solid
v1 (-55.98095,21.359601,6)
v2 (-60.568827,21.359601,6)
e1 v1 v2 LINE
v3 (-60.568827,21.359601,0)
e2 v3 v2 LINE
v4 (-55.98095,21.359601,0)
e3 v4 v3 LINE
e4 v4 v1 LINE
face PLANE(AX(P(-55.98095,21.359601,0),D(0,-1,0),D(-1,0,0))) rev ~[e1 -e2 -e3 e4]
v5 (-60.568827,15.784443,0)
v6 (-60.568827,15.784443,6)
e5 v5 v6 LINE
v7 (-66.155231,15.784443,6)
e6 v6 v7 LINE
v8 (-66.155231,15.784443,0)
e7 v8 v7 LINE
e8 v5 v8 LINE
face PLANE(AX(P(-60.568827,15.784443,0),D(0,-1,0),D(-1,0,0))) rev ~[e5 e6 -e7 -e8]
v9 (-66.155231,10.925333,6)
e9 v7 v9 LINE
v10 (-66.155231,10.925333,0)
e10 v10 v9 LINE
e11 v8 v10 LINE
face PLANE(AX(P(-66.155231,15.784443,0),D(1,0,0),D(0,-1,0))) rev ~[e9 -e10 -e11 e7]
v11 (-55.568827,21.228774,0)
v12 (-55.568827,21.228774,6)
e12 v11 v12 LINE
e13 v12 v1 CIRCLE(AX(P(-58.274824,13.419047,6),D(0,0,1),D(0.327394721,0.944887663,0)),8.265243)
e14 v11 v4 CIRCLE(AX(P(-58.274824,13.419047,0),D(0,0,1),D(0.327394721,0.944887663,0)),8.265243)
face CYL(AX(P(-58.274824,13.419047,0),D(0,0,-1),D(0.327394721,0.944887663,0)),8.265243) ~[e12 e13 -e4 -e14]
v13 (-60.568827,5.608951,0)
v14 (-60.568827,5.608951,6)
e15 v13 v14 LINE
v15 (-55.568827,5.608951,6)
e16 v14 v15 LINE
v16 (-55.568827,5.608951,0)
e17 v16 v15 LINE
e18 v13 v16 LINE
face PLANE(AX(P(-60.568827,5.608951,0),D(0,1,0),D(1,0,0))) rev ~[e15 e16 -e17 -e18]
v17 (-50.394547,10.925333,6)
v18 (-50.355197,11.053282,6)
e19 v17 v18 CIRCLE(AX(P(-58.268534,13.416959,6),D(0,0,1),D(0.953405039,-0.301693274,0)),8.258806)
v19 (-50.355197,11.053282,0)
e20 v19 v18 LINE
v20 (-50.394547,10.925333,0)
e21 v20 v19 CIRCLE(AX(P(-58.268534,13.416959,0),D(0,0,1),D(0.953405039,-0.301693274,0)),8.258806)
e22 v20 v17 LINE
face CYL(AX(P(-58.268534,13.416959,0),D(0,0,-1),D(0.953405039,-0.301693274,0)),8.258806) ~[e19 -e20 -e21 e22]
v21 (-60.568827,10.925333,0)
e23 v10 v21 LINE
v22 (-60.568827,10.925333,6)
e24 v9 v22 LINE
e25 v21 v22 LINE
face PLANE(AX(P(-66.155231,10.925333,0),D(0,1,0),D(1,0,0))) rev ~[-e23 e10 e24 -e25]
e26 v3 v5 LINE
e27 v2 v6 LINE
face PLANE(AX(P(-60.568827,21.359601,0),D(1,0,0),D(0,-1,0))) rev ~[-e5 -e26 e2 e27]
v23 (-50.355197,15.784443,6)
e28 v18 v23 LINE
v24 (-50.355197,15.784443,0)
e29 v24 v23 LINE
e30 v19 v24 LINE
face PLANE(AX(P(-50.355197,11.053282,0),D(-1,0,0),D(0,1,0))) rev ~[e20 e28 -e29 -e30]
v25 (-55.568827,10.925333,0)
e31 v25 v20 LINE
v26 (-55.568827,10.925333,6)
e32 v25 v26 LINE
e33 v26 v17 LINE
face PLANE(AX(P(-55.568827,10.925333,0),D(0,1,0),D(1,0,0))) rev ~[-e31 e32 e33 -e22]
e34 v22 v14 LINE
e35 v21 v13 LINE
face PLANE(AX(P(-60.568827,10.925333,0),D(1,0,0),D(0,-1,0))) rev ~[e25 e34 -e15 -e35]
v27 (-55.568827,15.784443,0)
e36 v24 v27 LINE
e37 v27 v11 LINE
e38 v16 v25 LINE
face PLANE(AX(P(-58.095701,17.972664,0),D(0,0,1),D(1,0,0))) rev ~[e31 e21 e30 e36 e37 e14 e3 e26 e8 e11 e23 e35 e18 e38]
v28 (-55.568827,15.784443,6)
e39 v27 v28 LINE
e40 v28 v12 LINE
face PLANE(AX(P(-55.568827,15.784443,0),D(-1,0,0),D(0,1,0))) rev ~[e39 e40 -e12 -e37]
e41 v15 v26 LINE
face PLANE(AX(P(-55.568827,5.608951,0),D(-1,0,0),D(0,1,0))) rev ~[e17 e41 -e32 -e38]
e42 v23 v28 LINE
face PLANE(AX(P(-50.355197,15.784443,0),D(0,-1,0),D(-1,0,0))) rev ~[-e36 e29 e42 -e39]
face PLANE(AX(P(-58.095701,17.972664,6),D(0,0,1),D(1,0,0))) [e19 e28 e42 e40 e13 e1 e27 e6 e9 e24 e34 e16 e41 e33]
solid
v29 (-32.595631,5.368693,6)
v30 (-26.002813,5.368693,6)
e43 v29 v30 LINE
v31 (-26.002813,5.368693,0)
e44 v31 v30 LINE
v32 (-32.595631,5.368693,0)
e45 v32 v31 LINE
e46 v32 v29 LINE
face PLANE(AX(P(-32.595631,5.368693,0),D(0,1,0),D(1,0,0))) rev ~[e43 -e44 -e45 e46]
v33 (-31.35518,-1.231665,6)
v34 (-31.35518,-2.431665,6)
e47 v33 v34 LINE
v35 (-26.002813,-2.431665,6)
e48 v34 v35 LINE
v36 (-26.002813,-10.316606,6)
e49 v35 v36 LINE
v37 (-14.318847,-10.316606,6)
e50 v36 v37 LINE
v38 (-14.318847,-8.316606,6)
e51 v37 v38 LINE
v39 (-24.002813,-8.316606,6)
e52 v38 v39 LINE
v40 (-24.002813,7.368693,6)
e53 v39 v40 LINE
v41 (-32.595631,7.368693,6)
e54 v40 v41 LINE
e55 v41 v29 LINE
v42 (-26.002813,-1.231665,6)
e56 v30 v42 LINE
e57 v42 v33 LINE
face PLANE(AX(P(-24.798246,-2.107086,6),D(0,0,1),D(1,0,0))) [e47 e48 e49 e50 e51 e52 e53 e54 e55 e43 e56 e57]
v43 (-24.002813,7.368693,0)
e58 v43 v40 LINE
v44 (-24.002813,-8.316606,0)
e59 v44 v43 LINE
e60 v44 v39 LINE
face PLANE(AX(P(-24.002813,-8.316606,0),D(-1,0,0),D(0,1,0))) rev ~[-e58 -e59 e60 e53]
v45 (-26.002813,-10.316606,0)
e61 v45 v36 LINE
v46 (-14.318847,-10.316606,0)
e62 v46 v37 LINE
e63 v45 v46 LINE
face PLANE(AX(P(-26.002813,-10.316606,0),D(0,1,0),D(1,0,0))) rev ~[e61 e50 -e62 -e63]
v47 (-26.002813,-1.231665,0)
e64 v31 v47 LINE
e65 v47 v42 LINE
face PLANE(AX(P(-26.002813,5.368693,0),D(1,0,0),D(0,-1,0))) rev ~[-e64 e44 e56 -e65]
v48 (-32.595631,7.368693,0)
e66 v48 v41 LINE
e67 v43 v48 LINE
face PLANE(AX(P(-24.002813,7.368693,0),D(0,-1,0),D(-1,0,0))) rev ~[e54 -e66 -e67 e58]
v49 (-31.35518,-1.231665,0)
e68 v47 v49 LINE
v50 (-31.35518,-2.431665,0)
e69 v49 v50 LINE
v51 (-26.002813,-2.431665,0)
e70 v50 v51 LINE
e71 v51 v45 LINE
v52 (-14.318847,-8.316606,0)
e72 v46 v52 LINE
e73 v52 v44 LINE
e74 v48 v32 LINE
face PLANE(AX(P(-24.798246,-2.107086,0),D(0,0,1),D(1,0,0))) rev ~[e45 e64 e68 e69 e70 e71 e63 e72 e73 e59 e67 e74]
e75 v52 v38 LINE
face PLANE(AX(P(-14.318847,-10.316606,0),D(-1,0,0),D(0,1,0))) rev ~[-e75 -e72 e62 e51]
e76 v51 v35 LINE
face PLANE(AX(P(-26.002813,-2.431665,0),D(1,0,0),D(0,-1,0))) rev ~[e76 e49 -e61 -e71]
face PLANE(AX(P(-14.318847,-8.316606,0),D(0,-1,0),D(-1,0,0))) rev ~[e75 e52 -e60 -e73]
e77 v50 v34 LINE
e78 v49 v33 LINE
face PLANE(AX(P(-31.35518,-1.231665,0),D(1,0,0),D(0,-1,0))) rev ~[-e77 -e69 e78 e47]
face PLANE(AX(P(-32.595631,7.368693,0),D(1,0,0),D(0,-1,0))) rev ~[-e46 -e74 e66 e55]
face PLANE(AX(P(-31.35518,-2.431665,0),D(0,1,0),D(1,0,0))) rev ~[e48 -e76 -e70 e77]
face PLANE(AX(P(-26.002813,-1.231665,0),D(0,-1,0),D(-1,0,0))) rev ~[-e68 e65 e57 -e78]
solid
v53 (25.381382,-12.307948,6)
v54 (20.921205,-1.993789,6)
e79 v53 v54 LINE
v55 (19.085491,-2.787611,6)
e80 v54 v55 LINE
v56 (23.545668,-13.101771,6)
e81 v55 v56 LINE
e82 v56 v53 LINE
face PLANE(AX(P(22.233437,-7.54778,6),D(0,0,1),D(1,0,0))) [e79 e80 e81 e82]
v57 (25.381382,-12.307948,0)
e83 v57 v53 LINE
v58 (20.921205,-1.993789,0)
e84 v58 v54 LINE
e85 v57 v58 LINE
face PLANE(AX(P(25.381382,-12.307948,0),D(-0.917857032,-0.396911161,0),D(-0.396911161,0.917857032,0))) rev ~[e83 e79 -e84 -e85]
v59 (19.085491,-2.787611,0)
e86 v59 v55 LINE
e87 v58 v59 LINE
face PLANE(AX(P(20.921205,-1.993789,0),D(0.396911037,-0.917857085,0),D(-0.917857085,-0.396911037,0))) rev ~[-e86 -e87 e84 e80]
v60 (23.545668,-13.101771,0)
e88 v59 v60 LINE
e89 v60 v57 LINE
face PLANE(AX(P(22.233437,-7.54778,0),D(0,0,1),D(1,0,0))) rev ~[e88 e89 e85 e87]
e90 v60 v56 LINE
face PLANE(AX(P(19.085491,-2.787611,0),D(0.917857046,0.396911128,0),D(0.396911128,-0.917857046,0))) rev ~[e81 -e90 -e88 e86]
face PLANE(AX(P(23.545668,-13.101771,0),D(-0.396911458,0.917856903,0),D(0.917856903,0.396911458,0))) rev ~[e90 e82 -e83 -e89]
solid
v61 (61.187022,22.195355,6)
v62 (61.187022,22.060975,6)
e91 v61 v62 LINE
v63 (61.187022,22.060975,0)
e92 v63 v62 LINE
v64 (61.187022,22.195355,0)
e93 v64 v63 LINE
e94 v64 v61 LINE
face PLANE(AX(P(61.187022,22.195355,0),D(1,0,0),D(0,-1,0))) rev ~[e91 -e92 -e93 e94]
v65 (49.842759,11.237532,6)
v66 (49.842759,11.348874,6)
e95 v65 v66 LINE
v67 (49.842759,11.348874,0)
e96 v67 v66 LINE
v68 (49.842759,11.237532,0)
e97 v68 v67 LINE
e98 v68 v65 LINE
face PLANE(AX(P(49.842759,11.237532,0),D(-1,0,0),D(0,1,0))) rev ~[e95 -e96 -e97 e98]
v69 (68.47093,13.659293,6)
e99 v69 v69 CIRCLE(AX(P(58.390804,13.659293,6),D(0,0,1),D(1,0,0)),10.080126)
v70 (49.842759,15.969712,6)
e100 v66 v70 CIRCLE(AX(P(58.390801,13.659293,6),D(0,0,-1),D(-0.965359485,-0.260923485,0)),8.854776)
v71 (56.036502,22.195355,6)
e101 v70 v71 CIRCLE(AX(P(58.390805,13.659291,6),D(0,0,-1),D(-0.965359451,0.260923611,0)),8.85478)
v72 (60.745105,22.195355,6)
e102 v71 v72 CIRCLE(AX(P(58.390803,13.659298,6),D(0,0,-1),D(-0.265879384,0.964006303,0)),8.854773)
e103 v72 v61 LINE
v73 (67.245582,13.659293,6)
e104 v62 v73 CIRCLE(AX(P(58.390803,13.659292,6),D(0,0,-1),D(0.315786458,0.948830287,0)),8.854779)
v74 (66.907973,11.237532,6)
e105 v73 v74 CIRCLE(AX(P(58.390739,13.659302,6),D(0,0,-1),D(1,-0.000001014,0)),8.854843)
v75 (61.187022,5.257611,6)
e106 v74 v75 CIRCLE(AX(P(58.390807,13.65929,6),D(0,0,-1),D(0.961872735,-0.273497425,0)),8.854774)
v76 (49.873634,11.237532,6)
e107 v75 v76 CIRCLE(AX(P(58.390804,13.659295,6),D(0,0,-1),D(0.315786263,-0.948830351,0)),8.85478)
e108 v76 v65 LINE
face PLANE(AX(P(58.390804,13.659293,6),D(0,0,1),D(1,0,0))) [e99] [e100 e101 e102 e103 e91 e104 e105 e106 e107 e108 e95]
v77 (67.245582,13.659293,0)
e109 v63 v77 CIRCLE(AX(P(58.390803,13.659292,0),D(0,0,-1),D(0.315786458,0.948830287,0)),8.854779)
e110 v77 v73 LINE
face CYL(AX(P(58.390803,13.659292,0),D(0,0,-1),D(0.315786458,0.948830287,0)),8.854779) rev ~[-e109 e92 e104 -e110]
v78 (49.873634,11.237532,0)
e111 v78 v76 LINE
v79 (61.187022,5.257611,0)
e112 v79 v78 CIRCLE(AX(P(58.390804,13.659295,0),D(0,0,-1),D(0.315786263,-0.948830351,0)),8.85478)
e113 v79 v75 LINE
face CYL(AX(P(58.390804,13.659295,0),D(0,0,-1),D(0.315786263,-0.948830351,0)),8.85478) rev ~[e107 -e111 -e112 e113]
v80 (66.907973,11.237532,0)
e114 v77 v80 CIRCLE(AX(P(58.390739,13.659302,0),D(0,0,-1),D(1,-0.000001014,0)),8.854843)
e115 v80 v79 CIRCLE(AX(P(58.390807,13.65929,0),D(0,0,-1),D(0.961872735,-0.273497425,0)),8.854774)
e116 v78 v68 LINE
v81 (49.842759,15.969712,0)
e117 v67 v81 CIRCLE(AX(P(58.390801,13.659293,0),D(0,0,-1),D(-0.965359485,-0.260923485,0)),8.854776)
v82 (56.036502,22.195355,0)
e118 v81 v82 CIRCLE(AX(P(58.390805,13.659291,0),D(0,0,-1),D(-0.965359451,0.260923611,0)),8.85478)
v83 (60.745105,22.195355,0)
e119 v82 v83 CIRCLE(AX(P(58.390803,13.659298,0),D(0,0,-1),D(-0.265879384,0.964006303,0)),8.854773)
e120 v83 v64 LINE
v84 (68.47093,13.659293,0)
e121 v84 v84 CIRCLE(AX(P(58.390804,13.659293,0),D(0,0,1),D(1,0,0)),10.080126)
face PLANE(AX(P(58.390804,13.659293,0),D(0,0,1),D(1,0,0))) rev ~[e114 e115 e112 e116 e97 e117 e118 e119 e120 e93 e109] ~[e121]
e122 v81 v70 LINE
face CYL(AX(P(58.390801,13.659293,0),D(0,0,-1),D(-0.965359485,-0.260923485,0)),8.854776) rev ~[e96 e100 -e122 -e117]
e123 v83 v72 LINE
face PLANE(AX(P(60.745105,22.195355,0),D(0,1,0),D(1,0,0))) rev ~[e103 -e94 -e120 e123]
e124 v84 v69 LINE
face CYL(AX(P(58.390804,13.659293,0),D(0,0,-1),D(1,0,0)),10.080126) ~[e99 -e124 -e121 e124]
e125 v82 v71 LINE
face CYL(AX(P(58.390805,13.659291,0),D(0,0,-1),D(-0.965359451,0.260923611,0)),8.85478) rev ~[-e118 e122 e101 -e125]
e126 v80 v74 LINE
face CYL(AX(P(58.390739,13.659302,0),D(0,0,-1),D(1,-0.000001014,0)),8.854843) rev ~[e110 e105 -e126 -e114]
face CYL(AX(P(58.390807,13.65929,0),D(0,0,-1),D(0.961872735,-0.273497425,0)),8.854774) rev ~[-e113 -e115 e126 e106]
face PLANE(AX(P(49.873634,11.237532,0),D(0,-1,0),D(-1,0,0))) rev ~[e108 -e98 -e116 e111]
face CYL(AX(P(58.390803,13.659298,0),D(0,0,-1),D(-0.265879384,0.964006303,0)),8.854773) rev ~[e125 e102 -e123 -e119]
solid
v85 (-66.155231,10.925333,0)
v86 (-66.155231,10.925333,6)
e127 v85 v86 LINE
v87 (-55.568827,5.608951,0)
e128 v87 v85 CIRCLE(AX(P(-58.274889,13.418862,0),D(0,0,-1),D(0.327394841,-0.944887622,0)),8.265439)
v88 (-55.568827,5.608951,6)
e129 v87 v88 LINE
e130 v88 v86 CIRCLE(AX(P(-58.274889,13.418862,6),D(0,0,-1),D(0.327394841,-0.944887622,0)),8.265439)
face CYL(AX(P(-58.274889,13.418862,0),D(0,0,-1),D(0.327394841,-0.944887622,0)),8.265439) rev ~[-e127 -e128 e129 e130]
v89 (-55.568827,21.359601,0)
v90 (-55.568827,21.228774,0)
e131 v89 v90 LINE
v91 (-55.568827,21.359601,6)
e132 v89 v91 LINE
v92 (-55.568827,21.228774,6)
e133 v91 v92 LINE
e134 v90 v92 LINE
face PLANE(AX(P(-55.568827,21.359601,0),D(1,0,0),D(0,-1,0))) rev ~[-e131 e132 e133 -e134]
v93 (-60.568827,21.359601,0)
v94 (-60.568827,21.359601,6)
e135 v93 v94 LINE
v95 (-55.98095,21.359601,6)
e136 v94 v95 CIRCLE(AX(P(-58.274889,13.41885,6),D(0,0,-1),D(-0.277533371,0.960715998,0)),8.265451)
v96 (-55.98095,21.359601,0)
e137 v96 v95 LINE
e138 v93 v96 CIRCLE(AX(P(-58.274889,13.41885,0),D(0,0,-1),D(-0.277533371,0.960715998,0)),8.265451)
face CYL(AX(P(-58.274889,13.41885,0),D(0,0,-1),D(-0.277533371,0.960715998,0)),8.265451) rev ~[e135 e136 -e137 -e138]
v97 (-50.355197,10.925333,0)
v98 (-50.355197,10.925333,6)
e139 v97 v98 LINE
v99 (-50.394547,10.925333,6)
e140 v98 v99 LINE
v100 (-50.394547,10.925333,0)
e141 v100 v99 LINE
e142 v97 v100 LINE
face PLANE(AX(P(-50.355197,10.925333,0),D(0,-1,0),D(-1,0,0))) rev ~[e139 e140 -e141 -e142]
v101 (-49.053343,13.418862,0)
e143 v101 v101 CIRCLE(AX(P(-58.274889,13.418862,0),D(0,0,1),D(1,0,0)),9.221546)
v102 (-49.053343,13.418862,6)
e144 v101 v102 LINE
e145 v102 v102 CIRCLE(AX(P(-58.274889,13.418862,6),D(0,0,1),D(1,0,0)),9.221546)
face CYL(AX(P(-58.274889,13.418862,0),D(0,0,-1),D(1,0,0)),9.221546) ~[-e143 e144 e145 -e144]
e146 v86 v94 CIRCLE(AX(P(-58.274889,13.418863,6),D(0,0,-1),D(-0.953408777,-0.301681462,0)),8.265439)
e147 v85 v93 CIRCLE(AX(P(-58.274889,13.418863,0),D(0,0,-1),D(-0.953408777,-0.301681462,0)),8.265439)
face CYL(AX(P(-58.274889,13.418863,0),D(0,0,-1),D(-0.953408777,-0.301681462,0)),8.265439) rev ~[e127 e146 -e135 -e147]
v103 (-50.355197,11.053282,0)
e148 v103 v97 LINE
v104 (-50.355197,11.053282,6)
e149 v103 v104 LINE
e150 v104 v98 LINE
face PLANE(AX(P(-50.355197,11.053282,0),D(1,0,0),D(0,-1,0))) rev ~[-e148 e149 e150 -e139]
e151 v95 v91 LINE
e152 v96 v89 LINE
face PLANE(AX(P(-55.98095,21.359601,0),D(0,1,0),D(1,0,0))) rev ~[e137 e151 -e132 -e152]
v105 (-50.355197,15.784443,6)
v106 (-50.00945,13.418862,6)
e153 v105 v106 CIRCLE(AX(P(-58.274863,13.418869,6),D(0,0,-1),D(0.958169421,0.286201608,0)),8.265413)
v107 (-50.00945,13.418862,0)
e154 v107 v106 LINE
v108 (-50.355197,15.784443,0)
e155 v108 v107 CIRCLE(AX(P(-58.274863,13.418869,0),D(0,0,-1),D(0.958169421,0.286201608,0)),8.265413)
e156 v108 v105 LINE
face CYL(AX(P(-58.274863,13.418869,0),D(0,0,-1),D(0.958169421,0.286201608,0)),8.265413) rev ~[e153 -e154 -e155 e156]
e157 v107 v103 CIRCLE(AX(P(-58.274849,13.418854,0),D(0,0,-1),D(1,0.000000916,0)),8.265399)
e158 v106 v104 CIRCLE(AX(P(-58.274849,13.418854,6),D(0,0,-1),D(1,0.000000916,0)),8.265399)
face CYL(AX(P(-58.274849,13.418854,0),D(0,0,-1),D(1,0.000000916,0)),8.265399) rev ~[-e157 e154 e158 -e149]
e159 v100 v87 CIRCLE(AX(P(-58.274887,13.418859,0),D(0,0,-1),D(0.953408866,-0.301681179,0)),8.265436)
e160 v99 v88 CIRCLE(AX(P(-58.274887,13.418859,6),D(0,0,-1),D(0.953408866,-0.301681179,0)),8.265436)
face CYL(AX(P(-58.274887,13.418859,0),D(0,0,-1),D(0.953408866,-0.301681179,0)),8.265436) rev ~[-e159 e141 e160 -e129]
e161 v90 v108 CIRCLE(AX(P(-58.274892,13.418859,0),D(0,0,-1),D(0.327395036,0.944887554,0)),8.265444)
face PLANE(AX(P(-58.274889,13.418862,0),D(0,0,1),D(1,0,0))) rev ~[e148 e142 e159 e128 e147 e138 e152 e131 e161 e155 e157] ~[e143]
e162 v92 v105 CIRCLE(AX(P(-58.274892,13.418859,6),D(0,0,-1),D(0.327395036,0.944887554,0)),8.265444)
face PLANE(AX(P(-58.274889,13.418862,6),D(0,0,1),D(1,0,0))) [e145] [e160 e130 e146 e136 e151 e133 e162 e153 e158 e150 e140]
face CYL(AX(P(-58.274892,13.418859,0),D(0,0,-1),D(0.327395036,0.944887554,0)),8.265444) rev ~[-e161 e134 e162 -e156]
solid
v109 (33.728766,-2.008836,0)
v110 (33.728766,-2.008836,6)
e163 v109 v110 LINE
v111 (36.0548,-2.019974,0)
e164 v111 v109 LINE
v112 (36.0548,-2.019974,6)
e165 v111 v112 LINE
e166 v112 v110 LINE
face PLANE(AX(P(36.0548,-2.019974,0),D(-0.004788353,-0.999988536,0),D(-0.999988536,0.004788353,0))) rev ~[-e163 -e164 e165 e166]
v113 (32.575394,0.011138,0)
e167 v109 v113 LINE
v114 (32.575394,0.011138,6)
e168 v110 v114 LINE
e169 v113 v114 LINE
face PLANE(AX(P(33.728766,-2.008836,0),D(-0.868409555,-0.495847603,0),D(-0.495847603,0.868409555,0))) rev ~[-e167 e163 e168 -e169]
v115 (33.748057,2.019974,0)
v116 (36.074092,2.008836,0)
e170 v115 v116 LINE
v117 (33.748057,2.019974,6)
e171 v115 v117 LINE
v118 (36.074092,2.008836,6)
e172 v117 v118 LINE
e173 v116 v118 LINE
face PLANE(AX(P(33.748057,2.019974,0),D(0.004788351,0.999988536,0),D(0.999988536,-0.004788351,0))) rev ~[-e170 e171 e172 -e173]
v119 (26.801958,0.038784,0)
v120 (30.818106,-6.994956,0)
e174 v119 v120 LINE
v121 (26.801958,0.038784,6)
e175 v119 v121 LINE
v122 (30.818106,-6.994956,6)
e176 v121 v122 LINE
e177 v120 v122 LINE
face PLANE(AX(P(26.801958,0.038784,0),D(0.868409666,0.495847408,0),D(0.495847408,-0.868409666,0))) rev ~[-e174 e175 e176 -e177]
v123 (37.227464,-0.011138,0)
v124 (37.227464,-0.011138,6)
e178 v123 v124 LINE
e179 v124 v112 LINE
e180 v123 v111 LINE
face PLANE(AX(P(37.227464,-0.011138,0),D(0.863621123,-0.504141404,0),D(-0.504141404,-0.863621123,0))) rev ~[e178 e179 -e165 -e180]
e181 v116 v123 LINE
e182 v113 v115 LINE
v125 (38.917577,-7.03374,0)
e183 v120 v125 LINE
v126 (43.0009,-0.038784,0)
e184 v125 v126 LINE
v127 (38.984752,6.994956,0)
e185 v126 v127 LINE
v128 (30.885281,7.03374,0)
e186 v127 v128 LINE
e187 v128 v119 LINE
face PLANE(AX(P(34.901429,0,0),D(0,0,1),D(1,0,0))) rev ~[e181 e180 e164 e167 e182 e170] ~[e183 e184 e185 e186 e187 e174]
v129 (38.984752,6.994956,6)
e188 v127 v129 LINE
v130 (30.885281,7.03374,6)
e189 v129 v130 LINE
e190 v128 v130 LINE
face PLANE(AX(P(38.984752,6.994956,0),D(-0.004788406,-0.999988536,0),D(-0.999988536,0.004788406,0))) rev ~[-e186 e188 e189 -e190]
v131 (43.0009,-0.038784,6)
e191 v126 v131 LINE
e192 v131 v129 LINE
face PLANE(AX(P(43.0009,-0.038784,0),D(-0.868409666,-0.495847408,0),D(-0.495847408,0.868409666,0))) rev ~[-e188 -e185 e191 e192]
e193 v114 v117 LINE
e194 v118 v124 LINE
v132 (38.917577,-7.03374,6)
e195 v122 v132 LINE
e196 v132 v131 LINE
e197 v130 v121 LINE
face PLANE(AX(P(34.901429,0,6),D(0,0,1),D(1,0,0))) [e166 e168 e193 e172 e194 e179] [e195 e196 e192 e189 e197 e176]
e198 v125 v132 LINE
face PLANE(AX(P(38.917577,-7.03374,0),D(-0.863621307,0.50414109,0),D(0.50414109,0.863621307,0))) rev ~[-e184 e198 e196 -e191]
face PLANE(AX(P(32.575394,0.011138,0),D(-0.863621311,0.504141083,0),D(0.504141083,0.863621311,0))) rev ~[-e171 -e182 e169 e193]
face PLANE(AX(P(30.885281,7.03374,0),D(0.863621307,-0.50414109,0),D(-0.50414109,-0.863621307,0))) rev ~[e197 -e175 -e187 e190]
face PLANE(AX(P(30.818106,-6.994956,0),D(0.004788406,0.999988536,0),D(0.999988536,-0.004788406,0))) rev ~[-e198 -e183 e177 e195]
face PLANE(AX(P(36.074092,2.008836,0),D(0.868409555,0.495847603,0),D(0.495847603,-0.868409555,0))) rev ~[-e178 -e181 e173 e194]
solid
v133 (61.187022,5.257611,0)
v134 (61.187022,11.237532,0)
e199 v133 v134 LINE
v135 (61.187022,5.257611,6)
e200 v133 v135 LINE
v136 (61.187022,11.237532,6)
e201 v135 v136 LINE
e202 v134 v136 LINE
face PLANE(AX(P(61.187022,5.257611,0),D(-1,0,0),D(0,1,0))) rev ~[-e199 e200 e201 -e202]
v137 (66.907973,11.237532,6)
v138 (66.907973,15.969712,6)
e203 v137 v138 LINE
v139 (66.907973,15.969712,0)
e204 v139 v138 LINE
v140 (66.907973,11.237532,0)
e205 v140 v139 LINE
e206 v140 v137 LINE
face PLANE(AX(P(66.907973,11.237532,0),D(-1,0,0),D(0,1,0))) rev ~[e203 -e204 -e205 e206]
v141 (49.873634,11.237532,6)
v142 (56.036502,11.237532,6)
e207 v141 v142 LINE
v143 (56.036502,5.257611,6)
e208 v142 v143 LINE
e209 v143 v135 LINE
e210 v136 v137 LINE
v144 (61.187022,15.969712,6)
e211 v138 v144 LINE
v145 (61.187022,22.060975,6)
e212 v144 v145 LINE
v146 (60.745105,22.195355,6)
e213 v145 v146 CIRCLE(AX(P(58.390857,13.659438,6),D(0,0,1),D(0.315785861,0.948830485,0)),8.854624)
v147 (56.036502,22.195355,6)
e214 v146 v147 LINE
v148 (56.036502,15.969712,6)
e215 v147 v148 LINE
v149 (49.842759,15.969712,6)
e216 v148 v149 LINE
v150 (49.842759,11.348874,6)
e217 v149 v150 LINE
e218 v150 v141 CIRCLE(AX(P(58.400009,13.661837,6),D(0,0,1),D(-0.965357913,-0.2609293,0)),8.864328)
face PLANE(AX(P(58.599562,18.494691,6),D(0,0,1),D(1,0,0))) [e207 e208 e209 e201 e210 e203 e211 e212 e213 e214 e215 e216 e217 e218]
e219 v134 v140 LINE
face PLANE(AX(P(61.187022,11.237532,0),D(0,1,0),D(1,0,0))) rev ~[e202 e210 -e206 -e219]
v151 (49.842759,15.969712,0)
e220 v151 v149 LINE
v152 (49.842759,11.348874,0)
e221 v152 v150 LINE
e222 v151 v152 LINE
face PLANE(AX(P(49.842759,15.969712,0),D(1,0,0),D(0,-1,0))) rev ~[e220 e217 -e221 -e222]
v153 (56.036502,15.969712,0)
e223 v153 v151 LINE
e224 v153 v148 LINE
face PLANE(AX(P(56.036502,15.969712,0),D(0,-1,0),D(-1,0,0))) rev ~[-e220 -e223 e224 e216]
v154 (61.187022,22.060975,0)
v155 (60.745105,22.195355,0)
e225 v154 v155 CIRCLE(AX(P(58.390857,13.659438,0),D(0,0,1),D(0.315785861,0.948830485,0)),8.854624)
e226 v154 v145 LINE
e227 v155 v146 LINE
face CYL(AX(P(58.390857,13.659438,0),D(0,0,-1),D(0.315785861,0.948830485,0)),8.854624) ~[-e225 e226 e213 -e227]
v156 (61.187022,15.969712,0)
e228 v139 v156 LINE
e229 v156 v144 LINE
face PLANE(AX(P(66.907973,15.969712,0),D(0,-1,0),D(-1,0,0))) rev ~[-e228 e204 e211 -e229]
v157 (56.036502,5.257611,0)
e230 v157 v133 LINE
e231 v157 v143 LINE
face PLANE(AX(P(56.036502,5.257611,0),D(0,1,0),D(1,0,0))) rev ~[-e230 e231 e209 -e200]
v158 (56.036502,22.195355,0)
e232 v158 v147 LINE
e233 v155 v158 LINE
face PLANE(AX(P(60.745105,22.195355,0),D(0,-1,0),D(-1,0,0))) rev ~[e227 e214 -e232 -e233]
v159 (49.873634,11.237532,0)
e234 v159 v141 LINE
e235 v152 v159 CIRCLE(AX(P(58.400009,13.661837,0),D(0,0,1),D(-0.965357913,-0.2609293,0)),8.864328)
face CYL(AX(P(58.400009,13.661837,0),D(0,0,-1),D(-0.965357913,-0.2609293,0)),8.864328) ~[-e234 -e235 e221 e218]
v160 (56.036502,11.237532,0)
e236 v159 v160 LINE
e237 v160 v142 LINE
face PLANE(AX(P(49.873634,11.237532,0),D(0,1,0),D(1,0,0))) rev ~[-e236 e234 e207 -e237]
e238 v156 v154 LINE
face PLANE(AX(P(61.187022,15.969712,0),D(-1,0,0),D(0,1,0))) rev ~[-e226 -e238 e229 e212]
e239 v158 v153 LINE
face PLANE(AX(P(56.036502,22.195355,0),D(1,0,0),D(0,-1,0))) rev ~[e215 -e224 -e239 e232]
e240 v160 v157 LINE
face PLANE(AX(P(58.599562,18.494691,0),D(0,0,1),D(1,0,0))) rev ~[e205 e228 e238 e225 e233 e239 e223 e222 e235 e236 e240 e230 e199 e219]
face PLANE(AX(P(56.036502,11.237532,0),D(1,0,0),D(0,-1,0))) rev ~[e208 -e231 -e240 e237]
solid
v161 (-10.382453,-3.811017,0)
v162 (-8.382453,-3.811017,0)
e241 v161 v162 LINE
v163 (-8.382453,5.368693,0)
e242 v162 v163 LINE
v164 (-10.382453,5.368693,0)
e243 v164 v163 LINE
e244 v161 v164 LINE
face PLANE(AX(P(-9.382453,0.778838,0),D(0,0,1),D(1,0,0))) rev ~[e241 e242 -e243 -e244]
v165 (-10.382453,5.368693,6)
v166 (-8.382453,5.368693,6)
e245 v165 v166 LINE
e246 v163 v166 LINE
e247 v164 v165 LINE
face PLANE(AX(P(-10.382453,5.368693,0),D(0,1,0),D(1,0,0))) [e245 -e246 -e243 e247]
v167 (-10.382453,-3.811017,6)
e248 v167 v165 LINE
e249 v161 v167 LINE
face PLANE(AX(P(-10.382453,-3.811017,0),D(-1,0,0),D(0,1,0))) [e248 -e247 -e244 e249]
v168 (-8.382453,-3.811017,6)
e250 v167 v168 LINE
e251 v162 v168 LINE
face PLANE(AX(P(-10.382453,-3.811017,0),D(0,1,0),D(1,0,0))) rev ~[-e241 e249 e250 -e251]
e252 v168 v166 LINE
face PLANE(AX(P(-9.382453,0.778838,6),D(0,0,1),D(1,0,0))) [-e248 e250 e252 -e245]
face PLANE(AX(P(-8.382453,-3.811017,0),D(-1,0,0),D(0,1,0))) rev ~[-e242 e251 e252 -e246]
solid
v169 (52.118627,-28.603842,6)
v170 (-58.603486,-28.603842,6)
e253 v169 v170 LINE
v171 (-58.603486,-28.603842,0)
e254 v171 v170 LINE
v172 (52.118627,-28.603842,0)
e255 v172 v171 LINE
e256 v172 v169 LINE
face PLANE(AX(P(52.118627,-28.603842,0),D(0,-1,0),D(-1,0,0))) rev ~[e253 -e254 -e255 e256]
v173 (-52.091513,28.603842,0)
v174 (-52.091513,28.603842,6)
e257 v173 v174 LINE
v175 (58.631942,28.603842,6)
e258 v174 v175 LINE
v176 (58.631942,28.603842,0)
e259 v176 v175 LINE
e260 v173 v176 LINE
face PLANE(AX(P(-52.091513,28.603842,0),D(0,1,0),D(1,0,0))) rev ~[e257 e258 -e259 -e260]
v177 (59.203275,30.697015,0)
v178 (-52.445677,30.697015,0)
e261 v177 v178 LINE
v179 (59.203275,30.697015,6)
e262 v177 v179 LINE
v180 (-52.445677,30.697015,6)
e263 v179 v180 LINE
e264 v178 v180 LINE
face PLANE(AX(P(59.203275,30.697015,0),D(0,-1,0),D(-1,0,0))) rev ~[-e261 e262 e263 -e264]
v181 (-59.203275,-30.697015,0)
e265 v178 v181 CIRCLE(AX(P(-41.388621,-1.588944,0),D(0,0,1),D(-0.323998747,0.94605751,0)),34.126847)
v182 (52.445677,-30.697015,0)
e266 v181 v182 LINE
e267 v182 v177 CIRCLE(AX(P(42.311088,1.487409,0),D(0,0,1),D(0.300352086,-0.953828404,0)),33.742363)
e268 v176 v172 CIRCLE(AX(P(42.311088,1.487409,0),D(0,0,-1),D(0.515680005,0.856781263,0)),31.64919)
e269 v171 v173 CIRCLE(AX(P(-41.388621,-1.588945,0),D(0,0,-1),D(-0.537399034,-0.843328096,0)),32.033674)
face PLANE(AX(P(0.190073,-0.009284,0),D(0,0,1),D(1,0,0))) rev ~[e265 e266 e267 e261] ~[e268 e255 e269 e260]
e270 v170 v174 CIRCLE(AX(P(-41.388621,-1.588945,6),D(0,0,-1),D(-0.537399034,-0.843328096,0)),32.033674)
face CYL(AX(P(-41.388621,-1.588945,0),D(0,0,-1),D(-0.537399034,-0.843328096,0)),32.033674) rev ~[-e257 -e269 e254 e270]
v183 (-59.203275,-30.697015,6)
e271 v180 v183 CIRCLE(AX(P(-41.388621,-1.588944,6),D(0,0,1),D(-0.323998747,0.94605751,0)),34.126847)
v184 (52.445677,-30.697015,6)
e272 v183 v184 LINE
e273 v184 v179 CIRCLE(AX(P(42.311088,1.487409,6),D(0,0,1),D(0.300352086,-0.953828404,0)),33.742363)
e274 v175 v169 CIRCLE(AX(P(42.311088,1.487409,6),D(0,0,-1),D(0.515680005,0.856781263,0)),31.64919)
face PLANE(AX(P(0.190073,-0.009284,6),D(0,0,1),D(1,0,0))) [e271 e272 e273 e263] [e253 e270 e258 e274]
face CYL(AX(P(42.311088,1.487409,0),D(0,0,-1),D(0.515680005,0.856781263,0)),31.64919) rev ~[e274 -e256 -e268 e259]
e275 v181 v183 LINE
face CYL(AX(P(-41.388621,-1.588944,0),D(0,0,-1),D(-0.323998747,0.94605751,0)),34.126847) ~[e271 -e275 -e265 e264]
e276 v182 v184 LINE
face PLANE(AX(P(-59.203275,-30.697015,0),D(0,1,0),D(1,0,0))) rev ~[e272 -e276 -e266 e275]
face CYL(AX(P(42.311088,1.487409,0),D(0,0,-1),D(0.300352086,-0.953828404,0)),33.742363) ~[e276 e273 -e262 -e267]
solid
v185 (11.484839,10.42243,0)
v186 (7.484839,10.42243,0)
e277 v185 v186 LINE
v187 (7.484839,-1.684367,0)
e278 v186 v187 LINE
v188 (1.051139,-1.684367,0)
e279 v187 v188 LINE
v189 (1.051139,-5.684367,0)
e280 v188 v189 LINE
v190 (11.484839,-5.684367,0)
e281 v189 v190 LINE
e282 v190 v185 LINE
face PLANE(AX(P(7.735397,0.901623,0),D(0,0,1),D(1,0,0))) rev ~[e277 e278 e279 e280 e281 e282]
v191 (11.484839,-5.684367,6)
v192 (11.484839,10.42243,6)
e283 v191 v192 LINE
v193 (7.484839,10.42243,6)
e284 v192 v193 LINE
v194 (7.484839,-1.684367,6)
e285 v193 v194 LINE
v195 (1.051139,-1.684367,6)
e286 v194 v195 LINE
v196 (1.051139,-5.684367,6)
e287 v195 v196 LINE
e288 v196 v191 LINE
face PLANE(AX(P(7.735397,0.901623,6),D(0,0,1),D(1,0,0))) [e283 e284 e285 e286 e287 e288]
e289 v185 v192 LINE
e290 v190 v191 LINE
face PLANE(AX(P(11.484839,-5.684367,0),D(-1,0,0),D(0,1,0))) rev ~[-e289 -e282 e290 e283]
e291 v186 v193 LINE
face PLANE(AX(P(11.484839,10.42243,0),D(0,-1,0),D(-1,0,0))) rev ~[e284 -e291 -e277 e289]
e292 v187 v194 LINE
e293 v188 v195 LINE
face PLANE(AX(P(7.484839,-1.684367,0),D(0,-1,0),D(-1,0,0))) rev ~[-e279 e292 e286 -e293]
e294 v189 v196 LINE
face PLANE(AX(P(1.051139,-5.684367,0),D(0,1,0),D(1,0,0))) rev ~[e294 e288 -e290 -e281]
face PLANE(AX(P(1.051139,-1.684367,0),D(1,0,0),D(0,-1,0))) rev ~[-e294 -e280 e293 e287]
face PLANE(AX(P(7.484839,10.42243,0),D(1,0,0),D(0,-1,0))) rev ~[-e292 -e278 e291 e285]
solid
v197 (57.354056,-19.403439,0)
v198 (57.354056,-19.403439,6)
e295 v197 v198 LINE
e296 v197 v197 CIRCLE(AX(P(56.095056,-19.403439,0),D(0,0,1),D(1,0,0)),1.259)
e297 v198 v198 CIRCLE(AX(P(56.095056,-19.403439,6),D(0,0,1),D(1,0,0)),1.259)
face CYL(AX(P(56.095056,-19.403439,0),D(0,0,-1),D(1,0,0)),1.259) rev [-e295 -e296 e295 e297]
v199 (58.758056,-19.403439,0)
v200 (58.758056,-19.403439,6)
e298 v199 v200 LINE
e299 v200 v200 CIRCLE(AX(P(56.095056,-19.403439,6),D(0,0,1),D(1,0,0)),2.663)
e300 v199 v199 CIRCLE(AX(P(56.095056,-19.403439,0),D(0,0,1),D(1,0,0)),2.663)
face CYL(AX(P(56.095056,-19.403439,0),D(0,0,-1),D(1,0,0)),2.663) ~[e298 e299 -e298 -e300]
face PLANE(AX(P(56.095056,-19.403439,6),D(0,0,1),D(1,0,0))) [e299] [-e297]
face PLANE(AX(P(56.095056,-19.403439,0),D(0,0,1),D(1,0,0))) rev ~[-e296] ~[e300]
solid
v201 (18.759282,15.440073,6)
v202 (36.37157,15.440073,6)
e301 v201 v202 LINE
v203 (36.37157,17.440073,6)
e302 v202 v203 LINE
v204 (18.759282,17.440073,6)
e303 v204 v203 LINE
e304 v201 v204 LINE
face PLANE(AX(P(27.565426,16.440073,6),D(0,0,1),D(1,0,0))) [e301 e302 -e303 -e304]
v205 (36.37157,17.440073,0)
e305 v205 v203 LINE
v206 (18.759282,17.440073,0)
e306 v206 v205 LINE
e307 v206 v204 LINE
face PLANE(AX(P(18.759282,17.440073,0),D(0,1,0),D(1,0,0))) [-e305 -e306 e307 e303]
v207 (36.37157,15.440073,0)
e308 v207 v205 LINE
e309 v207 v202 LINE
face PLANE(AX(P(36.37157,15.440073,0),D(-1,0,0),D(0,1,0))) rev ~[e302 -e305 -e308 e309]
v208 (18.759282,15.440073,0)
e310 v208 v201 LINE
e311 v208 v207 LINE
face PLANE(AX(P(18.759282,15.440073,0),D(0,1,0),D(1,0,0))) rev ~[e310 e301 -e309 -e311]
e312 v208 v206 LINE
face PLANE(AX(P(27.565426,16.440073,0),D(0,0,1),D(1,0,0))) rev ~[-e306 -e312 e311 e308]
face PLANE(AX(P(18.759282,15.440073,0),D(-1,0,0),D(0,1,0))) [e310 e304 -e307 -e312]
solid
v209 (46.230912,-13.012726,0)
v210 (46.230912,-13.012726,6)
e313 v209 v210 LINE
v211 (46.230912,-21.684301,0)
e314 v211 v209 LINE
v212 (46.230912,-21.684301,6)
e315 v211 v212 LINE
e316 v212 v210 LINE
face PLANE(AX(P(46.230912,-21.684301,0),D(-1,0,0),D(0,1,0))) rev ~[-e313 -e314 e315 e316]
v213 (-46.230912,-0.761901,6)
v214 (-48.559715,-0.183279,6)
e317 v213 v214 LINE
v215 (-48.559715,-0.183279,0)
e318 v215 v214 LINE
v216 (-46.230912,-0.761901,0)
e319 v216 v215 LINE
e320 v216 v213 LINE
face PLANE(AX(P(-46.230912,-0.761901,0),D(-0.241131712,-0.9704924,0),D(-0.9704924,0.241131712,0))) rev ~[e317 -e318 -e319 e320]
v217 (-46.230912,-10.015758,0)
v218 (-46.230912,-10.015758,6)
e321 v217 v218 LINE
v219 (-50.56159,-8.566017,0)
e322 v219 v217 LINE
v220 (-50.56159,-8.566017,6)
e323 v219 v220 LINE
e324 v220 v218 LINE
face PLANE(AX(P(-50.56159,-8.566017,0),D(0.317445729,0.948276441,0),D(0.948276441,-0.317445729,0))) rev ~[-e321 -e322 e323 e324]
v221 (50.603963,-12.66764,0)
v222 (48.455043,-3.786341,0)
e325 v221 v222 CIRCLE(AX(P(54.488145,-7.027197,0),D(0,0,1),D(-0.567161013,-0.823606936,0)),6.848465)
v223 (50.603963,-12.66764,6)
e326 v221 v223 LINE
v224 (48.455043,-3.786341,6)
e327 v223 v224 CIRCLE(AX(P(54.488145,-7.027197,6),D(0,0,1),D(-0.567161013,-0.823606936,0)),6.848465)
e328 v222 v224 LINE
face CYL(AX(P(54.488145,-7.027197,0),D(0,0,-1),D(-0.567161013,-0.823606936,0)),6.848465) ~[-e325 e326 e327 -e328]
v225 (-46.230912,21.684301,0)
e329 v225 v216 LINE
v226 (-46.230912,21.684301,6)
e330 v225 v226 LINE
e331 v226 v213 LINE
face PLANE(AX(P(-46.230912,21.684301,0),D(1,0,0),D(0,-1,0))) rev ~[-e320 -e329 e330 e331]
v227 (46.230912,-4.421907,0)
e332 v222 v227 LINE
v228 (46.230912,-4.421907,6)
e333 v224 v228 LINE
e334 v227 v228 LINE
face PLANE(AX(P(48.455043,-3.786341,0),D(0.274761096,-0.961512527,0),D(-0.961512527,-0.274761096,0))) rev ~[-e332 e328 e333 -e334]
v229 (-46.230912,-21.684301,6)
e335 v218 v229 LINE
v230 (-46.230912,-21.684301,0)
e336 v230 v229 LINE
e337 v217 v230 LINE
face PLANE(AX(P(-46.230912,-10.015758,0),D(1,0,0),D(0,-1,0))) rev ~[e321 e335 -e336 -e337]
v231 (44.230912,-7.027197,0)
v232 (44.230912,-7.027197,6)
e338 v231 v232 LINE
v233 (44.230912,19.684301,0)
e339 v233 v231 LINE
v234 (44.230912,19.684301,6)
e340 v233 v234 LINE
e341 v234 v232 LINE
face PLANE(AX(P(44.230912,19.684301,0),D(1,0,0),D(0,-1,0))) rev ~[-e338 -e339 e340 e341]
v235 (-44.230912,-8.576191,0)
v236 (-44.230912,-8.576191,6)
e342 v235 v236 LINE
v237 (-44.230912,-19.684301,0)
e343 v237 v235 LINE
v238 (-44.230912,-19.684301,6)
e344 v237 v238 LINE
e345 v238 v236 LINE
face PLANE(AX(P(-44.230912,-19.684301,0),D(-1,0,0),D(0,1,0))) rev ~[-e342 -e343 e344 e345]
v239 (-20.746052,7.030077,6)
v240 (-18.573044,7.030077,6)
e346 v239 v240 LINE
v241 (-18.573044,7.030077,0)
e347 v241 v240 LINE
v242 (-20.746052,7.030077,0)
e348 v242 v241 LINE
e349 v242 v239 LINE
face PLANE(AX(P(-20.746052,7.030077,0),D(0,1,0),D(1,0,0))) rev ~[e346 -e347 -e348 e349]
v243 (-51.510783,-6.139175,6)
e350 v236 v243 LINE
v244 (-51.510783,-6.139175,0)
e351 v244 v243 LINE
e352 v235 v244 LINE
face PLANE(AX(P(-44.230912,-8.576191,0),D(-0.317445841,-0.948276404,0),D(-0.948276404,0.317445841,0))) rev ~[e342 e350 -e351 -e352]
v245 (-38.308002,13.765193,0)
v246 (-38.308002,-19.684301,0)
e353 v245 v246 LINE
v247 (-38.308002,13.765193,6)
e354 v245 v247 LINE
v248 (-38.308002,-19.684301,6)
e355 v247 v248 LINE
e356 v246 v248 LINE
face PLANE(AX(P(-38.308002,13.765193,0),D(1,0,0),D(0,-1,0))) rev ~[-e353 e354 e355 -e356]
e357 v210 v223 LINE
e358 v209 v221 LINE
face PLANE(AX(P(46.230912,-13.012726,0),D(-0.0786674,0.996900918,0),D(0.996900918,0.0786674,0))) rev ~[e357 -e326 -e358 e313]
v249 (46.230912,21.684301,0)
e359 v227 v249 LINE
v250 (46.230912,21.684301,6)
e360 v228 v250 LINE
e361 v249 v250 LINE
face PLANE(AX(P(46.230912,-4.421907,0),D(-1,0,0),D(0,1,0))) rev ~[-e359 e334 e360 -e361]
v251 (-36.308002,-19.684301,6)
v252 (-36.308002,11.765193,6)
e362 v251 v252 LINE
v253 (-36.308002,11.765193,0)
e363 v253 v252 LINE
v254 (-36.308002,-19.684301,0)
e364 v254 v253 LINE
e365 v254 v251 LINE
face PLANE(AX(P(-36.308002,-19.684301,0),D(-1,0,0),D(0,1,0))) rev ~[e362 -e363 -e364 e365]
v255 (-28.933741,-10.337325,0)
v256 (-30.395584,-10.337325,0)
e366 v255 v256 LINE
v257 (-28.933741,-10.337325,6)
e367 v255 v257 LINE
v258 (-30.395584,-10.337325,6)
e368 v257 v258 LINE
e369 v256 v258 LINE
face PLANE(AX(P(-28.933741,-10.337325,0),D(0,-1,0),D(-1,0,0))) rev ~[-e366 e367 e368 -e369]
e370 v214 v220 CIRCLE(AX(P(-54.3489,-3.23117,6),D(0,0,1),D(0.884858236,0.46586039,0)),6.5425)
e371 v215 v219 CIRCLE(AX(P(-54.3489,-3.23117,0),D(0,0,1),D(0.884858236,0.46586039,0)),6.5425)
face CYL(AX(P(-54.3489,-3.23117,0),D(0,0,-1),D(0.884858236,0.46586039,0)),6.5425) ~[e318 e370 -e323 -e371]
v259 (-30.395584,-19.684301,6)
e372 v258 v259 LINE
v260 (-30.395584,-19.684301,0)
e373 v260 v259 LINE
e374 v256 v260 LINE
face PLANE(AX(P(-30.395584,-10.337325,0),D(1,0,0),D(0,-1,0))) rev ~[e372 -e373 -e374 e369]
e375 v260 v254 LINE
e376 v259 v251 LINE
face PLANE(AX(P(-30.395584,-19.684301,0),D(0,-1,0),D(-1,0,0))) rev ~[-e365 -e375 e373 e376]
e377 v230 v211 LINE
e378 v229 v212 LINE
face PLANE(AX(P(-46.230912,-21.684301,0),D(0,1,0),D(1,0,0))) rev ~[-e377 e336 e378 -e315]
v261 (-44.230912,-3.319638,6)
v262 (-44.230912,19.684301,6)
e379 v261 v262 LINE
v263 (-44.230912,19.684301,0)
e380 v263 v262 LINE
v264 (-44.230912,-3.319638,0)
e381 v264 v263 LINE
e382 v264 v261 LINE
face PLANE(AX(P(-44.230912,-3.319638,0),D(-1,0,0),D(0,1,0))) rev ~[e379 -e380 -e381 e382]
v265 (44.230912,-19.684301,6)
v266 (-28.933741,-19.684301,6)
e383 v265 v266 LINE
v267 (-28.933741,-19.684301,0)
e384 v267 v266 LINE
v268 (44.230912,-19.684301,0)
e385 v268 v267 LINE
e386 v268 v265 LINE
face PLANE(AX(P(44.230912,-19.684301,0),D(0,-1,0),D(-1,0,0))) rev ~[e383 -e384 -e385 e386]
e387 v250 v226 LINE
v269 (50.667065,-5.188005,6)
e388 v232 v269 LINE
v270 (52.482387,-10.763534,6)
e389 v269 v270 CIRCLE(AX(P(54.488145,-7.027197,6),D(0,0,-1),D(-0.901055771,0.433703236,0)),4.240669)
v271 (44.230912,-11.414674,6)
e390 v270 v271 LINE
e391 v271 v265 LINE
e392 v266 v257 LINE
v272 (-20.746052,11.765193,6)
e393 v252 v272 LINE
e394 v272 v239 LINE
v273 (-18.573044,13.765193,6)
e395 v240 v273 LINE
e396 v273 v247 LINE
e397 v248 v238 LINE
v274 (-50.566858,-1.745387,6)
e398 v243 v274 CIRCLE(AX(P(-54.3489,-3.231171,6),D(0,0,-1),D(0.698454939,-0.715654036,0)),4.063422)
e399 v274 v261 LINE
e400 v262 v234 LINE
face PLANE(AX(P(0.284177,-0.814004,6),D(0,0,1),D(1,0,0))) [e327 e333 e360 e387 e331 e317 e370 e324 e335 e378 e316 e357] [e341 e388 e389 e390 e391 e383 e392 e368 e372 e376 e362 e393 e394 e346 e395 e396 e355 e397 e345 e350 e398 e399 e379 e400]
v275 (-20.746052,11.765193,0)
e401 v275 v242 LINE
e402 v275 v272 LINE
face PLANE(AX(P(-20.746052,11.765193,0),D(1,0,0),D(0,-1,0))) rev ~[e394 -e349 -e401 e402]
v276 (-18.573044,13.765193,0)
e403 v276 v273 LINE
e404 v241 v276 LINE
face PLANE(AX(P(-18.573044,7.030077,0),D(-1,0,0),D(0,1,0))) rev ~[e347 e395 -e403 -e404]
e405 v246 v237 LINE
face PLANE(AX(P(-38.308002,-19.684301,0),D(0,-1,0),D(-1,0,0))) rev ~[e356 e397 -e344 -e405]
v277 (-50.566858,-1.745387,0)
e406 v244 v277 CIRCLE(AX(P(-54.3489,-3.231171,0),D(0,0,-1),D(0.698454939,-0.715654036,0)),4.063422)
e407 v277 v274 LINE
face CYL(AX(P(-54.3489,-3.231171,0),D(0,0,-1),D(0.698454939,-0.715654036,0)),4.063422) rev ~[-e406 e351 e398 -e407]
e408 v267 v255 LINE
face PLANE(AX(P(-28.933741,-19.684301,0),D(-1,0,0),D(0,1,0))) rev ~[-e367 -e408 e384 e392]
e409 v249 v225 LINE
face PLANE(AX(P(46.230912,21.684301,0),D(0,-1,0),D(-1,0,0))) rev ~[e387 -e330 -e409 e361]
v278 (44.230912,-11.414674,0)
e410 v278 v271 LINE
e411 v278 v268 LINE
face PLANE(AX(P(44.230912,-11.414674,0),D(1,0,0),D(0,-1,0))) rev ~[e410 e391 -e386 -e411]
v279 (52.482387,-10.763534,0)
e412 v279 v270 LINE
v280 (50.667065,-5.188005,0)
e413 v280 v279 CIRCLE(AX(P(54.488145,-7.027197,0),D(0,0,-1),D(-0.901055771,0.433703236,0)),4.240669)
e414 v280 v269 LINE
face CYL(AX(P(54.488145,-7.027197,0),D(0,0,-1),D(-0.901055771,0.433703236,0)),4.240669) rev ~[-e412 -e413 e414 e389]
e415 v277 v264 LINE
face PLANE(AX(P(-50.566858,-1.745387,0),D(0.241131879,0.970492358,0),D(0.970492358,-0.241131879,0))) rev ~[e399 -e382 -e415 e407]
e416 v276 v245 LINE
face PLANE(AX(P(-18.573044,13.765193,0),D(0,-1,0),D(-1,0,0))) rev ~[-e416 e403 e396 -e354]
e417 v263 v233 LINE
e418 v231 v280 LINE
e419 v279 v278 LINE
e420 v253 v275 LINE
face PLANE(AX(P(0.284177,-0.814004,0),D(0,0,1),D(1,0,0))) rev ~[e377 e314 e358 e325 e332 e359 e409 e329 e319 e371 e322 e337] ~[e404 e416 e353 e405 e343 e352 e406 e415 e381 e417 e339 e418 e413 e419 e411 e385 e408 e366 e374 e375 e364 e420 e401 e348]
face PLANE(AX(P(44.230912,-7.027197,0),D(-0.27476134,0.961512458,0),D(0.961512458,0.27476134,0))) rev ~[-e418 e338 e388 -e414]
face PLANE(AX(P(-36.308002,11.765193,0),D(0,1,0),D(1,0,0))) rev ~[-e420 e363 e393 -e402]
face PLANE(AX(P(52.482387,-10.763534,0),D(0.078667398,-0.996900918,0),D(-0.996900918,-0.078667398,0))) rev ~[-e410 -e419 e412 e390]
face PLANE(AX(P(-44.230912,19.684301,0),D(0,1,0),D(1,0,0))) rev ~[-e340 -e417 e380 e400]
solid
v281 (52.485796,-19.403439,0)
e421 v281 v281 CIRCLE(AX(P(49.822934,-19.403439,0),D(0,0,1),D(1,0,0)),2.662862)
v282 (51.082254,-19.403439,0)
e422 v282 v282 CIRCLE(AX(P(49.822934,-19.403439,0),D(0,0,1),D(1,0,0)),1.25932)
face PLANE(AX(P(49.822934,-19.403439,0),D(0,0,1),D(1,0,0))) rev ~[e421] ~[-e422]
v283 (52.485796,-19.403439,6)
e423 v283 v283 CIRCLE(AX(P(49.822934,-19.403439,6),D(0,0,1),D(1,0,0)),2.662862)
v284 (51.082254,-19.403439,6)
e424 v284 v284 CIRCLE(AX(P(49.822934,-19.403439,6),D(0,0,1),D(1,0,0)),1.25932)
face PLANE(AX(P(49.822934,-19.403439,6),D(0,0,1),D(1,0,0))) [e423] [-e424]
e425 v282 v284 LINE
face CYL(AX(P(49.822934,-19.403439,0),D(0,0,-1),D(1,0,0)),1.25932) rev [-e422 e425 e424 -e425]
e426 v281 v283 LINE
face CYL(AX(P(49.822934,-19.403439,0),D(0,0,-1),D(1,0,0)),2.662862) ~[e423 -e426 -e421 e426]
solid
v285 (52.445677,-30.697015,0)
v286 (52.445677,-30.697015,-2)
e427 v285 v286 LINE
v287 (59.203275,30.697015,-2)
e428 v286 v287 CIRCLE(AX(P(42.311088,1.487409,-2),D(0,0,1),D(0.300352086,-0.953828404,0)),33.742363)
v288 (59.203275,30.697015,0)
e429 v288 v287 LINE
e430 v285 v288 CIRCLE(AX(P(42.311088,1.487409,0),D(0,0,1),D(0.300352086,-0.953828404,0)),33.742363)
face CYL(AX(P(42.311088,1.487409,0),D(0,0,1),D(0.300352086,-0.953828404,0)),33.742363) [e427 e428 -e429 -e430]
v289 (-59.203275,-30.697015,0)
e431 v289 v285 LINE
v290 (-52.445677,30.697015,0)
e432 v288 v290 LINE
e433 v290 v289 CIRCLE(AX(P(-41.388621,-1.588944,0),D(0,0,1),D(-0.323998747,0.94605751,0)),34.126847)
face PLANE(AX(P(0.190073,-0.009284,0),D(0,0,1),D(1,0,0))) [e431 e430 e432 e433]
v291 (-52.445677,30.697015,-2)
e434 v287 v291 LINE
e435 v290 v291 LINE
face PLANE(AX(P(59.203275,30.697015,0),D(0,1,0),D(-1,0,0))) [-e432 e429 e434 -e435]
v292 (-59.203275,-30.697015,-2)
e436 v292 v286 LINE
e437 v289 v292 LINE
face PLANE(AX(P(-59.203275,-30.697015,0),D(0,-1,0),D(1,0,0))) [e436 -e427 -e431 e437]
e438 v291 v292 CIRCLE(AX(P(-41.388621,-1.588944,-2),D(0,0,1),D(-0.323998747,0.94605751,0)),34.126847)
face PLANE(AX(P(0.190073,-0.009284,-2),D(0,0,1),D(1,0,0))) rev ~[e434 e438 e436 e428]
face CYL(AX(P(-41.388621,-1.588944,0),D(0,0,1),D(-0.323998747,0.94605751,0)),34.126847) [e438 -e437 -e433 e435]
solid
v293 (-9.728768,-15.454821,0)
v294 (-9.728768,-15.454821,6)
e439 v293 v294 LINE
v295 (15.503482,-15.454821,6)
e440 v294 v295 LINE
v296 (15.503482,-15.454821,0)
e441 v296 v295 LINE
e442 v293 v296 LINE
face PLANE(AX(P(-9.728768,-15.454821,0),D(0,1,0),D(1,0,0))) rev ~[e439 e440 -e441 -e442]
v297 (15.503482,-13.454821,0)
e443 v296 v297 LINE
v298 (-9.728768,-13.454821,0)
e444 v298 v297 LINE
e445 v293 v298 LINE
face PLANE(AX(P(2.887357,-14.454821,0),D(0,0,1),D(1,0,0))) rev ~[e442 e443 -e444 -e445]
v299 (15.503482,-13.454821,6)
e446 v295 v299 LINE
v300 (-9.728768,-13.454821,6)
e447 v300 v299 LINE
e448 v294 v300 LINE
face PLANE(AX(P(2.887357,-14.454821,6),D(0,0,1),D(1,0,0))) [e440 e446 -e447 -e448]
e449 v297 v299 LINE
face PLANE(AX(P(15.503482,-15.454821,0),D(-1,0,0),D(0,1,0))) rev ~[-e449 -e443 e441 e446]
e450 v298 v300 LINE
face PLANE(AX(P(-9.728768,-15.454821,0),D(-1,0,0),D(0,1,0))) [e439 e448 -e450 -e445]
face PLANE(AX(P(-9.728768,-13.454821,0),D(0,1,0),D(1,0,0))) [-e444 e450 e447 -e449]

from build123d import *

# Parameters (mm, degrees)
F0_R     = 9.221546
F0_W     = 2
F0_H     = 9.17971
F0_W_2   = 25.23225
F0_H_2   = 2
F0_W_3   = 17.612288
F0_R_2   = 10.080126
F0_R_3   = 2.662862
F0_R_4   = 1.25932
F0_R_5   = 2.663
F0_R_6   = 1.259
F1_DEPTH = 6
F3_DEPTH = 2


with BuildPart() as f1:
    # F0 (on Top) → F1 (new body)
    with BuildSketch(Plane.XY):
        with BuildLine():
            Line((59.203275, 30.697015), (-52.445677, 30.697015))
            ThreePointArc((-52.445677, 30.697015), (-75.3106, 2.144824), (-59.203275, -30.697015))
            Line((-59.203275, -30.697015), (52.445677, -30.697015))
            ThreePointArc((52.445677, -30.697015), (75.850891, -2.204293), (59.203275, 30.697015))
        make_face()
        with BuildLine():
            ThreePointArc((-58.603486, -28.603842), (-73.216754, 2.034064), (-52.091513, 28.603842))
            Line((-52.091513, 28.603842), (58.631942, 28.603842))
            ThreePointArc((58.631942, 28.603842), (73.757121, -2.092843), (52.118627, -28.603842))
            Line((52.118627, -28.603842), (-58.603486, -28.603842))
        make_face(mode=Mode.SUBTRACT)
        with Locations((-58.274889, 13.418862)):
            Circle(F0_R)
        with BuildLine():
            ThreePointArc((-50.355197, 15.784443), (-50.096343, 14.614219), (-50.00945, 13.418862))
            ThreePointArc((-50.00945, 13.418862), (-50.096343, 12.223505), (-50.355197, 11.053282))
            Line((-50.355197, 11.053282), (-50.355197, 10.925333))
            Line((-50.355197, 10.925333), (-50.394547, 10.925333))
            ThreePointArc((-50.394547, 10.925333), (-52.351717, 7.65401), (-55.568827, 5.608951))
            ThreePointArc((-55.568827, 5.608951), (-61.984238, 6.032509), (-66.155231, 10.925333))
            ThreePointArc((-66.155231, 10.925333), (-65.561691, 17.320144), (-60.568827, 21.359601))
            ThreePointArc((-60.568827, 21.359601), (-58.274889, 21.684301), (-55.98095, 21.359601))
            Line((-55.98095, 21.359601), (-55.568827, 21.359601))
            Line((-55.568827, 21.359601), (-55.568827, 21.228774))
            ThreePointArc((-55.568827, 21.228774), (-52.305229, 19.135561), (-50.355197, 15.784443))
        make_face(mode=Mode.SUBTRACT)
        with BuildLine():
            Line((-55.568827, 15.784443), (-55.568827, 21.228774))
            ThreePointArc((-55.568827, 21.228774), (-55.774033, 21.296883), (-55.98095, 21.359601))
            Line((-55.98095, 21.359601), (-60.568827, 21.359601))
            Line((-60.568827, 21.359601), (-60.568827, 15.784443))
            Line((-60.568827, 15.784443), (-58.274889, 13.418862))
            Line((-58.274889, 13.418862), (-55.568827, 15.784443))
        make_face()
        Polygon((-55.568827, 10.925333), (-58.274889, 13.418862), (-60.568827, 10.925333), (-60.568827, 5.608951), (-55.568827, 5.608951), align=None)
        Polygon((-60.568827, 10.925333), (-58.274889, 13.418862), (-60.568827, 15.784443), (-66.155231, 15.784443), (-66.155231, 10.925333), align=None)
        with BuildLine():
            Line((-50.355197, 11.053282), (-50.355197, 15.784443))
            Line((-50.355197, 15.784443), (-55.568827, 15.784443))
            Line((-55.568827, 15.784443), (-58.274889, 13.418862))
            Line((-58.274889, 13.418862), (-55.568827, 10.925333))
            Line((-55.568827, 10.925333), (-50.394547, 10.925333))
            ThreePointArc((-50.394547, 10.925333), (-50.374613, 10.989227), (-50.355197, 11.053282))
        make_face()
        with BuildLine():
            Line((46.230912, 21.684301), (-46.230912, 21.684301))
            Line((-46.230912, 21.684301), (-46.230912, -0.761901))
            Line((-46.230912, -0.761901), (-48.559715, -0.183279))
            ThreePointArc((-48.559715, -0.183279), (-60.712459, -1.711494), (-50.56159, -8.566017))
            Line((-50.56159, -8.566017), (-46.230912, -10.015758))
            Line((-46.230912, -10.015758), (-46.230912, -21.684301))
            Line((-46.230912, -21.684301), (46.230912, -21.684301))
            Line((46.230912, -21.684301), (46.230912, -13.012726))
            Line((46.230912, -13.012726), (50.603963, -12.66764))
            ThreePointArc((50.603963, -12.66764), (61.144533, -5.416616), (48.455043, -3.786341))
            Line((48.455043, -3.786341), (46.230912, -4.421907))
            Line((46.230912, -4.421907), (46.230912, 21.684301))
        make_face()
        with BuildLine():
            ThreePointArc((-51.510783, -6.139175), (-58.321678, -2.377691), (-50.566858, -1.745387))
            Line((-50.566858, -1.745387), (-44.230912, -3.319638))
            Line((-44.230912, -3.319638), (-44.230912, 19.684301))
            Line((-44.230912, 19.684301), (44.230912, 19.684301))
            Line((44.230912, 19.684301), (44.230912, -7.027197))
            Line((44.230912, -7.027197), (50.667065, -5.188005))
            ThreePointArc((50.667065, -5.188005), (58.520469, -5.714323), (52.482387, -10.763534))
            Line((52.482387, -10.763534), (44.230912, -11.414674))
            Line((44.230912, -11.414674), (44.230912, -19.684301))
            Line((44.230912, -19.684301), (-28.933741, -19.684301))
            Line((-28.933741, -19.684301), (-30.395584, -19.684301))
            Line((-30.395584, -19.684301), (-36.308002, -19.684301))
            Line((-36.308002, -19.684301), (-38.308002, -19.684301))
            Line((-38.308002, -19.684301), (-44.230912, -19.684301))
            Line((-44.230912, -19.684301), (-44.230912, -8.576191))
            Line((-44.230912, -8.576191), (-51.510783, -6.139175))
        make_face(mode=Mode.SUBTRACT)
        Polygon((-24.002813, 7.368693), (-32.595631, 7.368693), (-32.595631, 5.368693), (-26.002813, 5.368693), (-26.002813, -1.231665), (-31.35518, -1.231665), (-31.35518, -2.431665), (-26.002813, -2.431665), (-26.002813, -10.316606), (-14.318847, -10.316606), (-14.318847, -8.316606), (-24.002813, -8.316606), align=None)
        Polygon((43.0009, -0.038784), (38.984752, 6.994956), (30.885281, 7.03374), (26.801958, 0.038784), (30.818106, -6.994956), (38.917577, -7.03374), align=None)
        Polygon((33.728766, -2.008836), (32.575394, 0.011138), (33.748057, 2.019974), (36.074092, 2.008836), (37.227464, -0.011138), (36.0548, -2.019974), align=None, mode=Mode.SUBTRACT)
        with Locations((-9.382453, 0.778838)):
            Rectangle(F0_W, F0_H)
        with Locations((2.887357, -14.454821)):
            Rectangle(F0_W_2, F0_H_2)
        Polygon((20.921205, -1.993789), (19.085491, -2.787611), (23.545668, -13.101771), (25.381382, -12.307948), align=None)
        with Locations((27.565426, 16.440073)):
            Rectangle(F0_W_3, F0_H_2)
        with Locations((58.390804, 13.659293)):
            Circle(F0_R_2)
        with BuildLine():
            ThreePointArc((49.842759, 15.969712), (52.113468, 19.904463), (56.036502, 22.195355))
            ThreePointArc((56.036502, 22.195355), (58.390804, 22.514071), (60.745105, 22.195355))
            Line((60.745105, 22.195355), (61.187022, 22.195355))
            Line((61.187022, 22.195355), (61.187022, 22.060975))
            ThreePointArc((61.187022, 22.060975), (65.572969, 18.838443), (67.245582, 13.659293))
            ThreePointArc((67.245582, 13.659293), (67.160773, 12.436703), (66.907973, 11.237532))
            ThreePointArc((66.907973, 11.237532), (64.789089, 7.538096), (61.187022, 5.257611))
            ThreePointArc((61.187022, 5.257611), (54.252908, 5.830825), (49.873634, 11.237532))
            Line((49.873634, 11.237532), (49.842759, 11.237532))
            Line((49.842759, 11.237532), (49.842759, 11.348874))
            ThreePointArc((49.842759, 11.348874), (49.536025, 13.659293), (49.842759, 15.969712))
        make_face(mode=Mode.SUBTRACT)
        with BuildLine():
            Line((60.745105, 22.195355), (56.036502, 22.195355))
            Line((56.036502, 22.195355), (56.036502, 15.969712))
            Line((56.036502, 15.969712), (58.611762, 13.603622))
            Line((58.611762, 13.603622), (61.187022, 15.969712))
            Line((61.187022, 15.969712), (61.187022, 22.060975))
            ThreePointArc((61.187022, 22.060975), (60.96694, 22.131047), (60.745105, 22.195355))
        make_face()
        Polygon((61.187022, 15.969712), (58.611762, 13.603622), (61.187022, 11.237532), (66.907973, 11.237532), (66.907973, 15.969712), align=None)
        with BuildLine():
            Line((56.036502, 15.969712), (49.842759, 15.969712))
            Line((49.842759, 15.969712), (49.842759, 11.348874))
            ThreePointArc((49.842759, 11.348874), (49.858015, 11.293153), (49.873634, 11.237532))
            Line((49.873634, 11.237532), (56.036502, 11.237532))
            Line((56.036502, 11.237532), (58.611762, 13.603622))
            Line((58.611762, 13.603622), (56.036502, 15.969712))
        make_face()
        Polygon((61.187022, 11.237532), (58.611762, 13.603622), (56.036502, 11.237532), (56.036502, 5.257611), (61.187022, 5.257611), align=None)
        with Locations((49.822934, -19.403439)):
            Circle(F0_R_3)
        with Locations((49.822934, -19.403439)):
            Circle(F0_R_4, mode=Mode.SUBTRACT)
        with Locations((56.095056, -19.403439)):
            Circle(F0_R_5)
        with Locations((56.095056, -19.403439)):
            Circle(F0_R_6, mode=Mode.SUBTRACT)
        Polygon((-38.308002, 13.765193), (-38.308002, -19.684301), (-36.308002, -19.684301), (-36.308002, -19.672696), (-36.308002, 11.765193), (-20.746052, 11.765193), (-20.746052, 7.030077), (-18.573044, 7.030077), (-18.573044, 13.765193), (-20.746052, 13.765193), align=None)
        Polygon((-30.395584, -10.337325), (-30.395584, -19.684301), (-28.933741, -19.684301), (-28.933741, -19.672696), (-28.933741, -10.337325), align=None)
        Polygon((11.484839, -5.684367), (11.484839, 10.42243), (7.484839, 10.42243), (7.484839, 10.387363), (7.484839, -1.684367), (1.051139, -1.684367), (1.051139, -5.684367), align=None)
    extrude(amount=F1_DEPTH)


with BuildPart() as f3:
    # F2 (on Top) → F3 (new body)
    with BuildSketch(Plane.XY):
        with BuildLine():
            ThreePointArc((-52.445677, 30.697015), (-75.3106, 2.144824), (-59.203275, -30.697015))
            Line((-59.203275, -30.697015), (52.445677, -30.697015))
            ThreePointArc((52.445677, -30.697015), (75.850891, -2.204293), (59.203275, 30.697015))
            Line((59.203275, 30.697015), (-52.445677, 30.697015))
        make_face()
    extrude(amount=-F3_DEPTH)


solid = Compound([f1.part, f3.part])
